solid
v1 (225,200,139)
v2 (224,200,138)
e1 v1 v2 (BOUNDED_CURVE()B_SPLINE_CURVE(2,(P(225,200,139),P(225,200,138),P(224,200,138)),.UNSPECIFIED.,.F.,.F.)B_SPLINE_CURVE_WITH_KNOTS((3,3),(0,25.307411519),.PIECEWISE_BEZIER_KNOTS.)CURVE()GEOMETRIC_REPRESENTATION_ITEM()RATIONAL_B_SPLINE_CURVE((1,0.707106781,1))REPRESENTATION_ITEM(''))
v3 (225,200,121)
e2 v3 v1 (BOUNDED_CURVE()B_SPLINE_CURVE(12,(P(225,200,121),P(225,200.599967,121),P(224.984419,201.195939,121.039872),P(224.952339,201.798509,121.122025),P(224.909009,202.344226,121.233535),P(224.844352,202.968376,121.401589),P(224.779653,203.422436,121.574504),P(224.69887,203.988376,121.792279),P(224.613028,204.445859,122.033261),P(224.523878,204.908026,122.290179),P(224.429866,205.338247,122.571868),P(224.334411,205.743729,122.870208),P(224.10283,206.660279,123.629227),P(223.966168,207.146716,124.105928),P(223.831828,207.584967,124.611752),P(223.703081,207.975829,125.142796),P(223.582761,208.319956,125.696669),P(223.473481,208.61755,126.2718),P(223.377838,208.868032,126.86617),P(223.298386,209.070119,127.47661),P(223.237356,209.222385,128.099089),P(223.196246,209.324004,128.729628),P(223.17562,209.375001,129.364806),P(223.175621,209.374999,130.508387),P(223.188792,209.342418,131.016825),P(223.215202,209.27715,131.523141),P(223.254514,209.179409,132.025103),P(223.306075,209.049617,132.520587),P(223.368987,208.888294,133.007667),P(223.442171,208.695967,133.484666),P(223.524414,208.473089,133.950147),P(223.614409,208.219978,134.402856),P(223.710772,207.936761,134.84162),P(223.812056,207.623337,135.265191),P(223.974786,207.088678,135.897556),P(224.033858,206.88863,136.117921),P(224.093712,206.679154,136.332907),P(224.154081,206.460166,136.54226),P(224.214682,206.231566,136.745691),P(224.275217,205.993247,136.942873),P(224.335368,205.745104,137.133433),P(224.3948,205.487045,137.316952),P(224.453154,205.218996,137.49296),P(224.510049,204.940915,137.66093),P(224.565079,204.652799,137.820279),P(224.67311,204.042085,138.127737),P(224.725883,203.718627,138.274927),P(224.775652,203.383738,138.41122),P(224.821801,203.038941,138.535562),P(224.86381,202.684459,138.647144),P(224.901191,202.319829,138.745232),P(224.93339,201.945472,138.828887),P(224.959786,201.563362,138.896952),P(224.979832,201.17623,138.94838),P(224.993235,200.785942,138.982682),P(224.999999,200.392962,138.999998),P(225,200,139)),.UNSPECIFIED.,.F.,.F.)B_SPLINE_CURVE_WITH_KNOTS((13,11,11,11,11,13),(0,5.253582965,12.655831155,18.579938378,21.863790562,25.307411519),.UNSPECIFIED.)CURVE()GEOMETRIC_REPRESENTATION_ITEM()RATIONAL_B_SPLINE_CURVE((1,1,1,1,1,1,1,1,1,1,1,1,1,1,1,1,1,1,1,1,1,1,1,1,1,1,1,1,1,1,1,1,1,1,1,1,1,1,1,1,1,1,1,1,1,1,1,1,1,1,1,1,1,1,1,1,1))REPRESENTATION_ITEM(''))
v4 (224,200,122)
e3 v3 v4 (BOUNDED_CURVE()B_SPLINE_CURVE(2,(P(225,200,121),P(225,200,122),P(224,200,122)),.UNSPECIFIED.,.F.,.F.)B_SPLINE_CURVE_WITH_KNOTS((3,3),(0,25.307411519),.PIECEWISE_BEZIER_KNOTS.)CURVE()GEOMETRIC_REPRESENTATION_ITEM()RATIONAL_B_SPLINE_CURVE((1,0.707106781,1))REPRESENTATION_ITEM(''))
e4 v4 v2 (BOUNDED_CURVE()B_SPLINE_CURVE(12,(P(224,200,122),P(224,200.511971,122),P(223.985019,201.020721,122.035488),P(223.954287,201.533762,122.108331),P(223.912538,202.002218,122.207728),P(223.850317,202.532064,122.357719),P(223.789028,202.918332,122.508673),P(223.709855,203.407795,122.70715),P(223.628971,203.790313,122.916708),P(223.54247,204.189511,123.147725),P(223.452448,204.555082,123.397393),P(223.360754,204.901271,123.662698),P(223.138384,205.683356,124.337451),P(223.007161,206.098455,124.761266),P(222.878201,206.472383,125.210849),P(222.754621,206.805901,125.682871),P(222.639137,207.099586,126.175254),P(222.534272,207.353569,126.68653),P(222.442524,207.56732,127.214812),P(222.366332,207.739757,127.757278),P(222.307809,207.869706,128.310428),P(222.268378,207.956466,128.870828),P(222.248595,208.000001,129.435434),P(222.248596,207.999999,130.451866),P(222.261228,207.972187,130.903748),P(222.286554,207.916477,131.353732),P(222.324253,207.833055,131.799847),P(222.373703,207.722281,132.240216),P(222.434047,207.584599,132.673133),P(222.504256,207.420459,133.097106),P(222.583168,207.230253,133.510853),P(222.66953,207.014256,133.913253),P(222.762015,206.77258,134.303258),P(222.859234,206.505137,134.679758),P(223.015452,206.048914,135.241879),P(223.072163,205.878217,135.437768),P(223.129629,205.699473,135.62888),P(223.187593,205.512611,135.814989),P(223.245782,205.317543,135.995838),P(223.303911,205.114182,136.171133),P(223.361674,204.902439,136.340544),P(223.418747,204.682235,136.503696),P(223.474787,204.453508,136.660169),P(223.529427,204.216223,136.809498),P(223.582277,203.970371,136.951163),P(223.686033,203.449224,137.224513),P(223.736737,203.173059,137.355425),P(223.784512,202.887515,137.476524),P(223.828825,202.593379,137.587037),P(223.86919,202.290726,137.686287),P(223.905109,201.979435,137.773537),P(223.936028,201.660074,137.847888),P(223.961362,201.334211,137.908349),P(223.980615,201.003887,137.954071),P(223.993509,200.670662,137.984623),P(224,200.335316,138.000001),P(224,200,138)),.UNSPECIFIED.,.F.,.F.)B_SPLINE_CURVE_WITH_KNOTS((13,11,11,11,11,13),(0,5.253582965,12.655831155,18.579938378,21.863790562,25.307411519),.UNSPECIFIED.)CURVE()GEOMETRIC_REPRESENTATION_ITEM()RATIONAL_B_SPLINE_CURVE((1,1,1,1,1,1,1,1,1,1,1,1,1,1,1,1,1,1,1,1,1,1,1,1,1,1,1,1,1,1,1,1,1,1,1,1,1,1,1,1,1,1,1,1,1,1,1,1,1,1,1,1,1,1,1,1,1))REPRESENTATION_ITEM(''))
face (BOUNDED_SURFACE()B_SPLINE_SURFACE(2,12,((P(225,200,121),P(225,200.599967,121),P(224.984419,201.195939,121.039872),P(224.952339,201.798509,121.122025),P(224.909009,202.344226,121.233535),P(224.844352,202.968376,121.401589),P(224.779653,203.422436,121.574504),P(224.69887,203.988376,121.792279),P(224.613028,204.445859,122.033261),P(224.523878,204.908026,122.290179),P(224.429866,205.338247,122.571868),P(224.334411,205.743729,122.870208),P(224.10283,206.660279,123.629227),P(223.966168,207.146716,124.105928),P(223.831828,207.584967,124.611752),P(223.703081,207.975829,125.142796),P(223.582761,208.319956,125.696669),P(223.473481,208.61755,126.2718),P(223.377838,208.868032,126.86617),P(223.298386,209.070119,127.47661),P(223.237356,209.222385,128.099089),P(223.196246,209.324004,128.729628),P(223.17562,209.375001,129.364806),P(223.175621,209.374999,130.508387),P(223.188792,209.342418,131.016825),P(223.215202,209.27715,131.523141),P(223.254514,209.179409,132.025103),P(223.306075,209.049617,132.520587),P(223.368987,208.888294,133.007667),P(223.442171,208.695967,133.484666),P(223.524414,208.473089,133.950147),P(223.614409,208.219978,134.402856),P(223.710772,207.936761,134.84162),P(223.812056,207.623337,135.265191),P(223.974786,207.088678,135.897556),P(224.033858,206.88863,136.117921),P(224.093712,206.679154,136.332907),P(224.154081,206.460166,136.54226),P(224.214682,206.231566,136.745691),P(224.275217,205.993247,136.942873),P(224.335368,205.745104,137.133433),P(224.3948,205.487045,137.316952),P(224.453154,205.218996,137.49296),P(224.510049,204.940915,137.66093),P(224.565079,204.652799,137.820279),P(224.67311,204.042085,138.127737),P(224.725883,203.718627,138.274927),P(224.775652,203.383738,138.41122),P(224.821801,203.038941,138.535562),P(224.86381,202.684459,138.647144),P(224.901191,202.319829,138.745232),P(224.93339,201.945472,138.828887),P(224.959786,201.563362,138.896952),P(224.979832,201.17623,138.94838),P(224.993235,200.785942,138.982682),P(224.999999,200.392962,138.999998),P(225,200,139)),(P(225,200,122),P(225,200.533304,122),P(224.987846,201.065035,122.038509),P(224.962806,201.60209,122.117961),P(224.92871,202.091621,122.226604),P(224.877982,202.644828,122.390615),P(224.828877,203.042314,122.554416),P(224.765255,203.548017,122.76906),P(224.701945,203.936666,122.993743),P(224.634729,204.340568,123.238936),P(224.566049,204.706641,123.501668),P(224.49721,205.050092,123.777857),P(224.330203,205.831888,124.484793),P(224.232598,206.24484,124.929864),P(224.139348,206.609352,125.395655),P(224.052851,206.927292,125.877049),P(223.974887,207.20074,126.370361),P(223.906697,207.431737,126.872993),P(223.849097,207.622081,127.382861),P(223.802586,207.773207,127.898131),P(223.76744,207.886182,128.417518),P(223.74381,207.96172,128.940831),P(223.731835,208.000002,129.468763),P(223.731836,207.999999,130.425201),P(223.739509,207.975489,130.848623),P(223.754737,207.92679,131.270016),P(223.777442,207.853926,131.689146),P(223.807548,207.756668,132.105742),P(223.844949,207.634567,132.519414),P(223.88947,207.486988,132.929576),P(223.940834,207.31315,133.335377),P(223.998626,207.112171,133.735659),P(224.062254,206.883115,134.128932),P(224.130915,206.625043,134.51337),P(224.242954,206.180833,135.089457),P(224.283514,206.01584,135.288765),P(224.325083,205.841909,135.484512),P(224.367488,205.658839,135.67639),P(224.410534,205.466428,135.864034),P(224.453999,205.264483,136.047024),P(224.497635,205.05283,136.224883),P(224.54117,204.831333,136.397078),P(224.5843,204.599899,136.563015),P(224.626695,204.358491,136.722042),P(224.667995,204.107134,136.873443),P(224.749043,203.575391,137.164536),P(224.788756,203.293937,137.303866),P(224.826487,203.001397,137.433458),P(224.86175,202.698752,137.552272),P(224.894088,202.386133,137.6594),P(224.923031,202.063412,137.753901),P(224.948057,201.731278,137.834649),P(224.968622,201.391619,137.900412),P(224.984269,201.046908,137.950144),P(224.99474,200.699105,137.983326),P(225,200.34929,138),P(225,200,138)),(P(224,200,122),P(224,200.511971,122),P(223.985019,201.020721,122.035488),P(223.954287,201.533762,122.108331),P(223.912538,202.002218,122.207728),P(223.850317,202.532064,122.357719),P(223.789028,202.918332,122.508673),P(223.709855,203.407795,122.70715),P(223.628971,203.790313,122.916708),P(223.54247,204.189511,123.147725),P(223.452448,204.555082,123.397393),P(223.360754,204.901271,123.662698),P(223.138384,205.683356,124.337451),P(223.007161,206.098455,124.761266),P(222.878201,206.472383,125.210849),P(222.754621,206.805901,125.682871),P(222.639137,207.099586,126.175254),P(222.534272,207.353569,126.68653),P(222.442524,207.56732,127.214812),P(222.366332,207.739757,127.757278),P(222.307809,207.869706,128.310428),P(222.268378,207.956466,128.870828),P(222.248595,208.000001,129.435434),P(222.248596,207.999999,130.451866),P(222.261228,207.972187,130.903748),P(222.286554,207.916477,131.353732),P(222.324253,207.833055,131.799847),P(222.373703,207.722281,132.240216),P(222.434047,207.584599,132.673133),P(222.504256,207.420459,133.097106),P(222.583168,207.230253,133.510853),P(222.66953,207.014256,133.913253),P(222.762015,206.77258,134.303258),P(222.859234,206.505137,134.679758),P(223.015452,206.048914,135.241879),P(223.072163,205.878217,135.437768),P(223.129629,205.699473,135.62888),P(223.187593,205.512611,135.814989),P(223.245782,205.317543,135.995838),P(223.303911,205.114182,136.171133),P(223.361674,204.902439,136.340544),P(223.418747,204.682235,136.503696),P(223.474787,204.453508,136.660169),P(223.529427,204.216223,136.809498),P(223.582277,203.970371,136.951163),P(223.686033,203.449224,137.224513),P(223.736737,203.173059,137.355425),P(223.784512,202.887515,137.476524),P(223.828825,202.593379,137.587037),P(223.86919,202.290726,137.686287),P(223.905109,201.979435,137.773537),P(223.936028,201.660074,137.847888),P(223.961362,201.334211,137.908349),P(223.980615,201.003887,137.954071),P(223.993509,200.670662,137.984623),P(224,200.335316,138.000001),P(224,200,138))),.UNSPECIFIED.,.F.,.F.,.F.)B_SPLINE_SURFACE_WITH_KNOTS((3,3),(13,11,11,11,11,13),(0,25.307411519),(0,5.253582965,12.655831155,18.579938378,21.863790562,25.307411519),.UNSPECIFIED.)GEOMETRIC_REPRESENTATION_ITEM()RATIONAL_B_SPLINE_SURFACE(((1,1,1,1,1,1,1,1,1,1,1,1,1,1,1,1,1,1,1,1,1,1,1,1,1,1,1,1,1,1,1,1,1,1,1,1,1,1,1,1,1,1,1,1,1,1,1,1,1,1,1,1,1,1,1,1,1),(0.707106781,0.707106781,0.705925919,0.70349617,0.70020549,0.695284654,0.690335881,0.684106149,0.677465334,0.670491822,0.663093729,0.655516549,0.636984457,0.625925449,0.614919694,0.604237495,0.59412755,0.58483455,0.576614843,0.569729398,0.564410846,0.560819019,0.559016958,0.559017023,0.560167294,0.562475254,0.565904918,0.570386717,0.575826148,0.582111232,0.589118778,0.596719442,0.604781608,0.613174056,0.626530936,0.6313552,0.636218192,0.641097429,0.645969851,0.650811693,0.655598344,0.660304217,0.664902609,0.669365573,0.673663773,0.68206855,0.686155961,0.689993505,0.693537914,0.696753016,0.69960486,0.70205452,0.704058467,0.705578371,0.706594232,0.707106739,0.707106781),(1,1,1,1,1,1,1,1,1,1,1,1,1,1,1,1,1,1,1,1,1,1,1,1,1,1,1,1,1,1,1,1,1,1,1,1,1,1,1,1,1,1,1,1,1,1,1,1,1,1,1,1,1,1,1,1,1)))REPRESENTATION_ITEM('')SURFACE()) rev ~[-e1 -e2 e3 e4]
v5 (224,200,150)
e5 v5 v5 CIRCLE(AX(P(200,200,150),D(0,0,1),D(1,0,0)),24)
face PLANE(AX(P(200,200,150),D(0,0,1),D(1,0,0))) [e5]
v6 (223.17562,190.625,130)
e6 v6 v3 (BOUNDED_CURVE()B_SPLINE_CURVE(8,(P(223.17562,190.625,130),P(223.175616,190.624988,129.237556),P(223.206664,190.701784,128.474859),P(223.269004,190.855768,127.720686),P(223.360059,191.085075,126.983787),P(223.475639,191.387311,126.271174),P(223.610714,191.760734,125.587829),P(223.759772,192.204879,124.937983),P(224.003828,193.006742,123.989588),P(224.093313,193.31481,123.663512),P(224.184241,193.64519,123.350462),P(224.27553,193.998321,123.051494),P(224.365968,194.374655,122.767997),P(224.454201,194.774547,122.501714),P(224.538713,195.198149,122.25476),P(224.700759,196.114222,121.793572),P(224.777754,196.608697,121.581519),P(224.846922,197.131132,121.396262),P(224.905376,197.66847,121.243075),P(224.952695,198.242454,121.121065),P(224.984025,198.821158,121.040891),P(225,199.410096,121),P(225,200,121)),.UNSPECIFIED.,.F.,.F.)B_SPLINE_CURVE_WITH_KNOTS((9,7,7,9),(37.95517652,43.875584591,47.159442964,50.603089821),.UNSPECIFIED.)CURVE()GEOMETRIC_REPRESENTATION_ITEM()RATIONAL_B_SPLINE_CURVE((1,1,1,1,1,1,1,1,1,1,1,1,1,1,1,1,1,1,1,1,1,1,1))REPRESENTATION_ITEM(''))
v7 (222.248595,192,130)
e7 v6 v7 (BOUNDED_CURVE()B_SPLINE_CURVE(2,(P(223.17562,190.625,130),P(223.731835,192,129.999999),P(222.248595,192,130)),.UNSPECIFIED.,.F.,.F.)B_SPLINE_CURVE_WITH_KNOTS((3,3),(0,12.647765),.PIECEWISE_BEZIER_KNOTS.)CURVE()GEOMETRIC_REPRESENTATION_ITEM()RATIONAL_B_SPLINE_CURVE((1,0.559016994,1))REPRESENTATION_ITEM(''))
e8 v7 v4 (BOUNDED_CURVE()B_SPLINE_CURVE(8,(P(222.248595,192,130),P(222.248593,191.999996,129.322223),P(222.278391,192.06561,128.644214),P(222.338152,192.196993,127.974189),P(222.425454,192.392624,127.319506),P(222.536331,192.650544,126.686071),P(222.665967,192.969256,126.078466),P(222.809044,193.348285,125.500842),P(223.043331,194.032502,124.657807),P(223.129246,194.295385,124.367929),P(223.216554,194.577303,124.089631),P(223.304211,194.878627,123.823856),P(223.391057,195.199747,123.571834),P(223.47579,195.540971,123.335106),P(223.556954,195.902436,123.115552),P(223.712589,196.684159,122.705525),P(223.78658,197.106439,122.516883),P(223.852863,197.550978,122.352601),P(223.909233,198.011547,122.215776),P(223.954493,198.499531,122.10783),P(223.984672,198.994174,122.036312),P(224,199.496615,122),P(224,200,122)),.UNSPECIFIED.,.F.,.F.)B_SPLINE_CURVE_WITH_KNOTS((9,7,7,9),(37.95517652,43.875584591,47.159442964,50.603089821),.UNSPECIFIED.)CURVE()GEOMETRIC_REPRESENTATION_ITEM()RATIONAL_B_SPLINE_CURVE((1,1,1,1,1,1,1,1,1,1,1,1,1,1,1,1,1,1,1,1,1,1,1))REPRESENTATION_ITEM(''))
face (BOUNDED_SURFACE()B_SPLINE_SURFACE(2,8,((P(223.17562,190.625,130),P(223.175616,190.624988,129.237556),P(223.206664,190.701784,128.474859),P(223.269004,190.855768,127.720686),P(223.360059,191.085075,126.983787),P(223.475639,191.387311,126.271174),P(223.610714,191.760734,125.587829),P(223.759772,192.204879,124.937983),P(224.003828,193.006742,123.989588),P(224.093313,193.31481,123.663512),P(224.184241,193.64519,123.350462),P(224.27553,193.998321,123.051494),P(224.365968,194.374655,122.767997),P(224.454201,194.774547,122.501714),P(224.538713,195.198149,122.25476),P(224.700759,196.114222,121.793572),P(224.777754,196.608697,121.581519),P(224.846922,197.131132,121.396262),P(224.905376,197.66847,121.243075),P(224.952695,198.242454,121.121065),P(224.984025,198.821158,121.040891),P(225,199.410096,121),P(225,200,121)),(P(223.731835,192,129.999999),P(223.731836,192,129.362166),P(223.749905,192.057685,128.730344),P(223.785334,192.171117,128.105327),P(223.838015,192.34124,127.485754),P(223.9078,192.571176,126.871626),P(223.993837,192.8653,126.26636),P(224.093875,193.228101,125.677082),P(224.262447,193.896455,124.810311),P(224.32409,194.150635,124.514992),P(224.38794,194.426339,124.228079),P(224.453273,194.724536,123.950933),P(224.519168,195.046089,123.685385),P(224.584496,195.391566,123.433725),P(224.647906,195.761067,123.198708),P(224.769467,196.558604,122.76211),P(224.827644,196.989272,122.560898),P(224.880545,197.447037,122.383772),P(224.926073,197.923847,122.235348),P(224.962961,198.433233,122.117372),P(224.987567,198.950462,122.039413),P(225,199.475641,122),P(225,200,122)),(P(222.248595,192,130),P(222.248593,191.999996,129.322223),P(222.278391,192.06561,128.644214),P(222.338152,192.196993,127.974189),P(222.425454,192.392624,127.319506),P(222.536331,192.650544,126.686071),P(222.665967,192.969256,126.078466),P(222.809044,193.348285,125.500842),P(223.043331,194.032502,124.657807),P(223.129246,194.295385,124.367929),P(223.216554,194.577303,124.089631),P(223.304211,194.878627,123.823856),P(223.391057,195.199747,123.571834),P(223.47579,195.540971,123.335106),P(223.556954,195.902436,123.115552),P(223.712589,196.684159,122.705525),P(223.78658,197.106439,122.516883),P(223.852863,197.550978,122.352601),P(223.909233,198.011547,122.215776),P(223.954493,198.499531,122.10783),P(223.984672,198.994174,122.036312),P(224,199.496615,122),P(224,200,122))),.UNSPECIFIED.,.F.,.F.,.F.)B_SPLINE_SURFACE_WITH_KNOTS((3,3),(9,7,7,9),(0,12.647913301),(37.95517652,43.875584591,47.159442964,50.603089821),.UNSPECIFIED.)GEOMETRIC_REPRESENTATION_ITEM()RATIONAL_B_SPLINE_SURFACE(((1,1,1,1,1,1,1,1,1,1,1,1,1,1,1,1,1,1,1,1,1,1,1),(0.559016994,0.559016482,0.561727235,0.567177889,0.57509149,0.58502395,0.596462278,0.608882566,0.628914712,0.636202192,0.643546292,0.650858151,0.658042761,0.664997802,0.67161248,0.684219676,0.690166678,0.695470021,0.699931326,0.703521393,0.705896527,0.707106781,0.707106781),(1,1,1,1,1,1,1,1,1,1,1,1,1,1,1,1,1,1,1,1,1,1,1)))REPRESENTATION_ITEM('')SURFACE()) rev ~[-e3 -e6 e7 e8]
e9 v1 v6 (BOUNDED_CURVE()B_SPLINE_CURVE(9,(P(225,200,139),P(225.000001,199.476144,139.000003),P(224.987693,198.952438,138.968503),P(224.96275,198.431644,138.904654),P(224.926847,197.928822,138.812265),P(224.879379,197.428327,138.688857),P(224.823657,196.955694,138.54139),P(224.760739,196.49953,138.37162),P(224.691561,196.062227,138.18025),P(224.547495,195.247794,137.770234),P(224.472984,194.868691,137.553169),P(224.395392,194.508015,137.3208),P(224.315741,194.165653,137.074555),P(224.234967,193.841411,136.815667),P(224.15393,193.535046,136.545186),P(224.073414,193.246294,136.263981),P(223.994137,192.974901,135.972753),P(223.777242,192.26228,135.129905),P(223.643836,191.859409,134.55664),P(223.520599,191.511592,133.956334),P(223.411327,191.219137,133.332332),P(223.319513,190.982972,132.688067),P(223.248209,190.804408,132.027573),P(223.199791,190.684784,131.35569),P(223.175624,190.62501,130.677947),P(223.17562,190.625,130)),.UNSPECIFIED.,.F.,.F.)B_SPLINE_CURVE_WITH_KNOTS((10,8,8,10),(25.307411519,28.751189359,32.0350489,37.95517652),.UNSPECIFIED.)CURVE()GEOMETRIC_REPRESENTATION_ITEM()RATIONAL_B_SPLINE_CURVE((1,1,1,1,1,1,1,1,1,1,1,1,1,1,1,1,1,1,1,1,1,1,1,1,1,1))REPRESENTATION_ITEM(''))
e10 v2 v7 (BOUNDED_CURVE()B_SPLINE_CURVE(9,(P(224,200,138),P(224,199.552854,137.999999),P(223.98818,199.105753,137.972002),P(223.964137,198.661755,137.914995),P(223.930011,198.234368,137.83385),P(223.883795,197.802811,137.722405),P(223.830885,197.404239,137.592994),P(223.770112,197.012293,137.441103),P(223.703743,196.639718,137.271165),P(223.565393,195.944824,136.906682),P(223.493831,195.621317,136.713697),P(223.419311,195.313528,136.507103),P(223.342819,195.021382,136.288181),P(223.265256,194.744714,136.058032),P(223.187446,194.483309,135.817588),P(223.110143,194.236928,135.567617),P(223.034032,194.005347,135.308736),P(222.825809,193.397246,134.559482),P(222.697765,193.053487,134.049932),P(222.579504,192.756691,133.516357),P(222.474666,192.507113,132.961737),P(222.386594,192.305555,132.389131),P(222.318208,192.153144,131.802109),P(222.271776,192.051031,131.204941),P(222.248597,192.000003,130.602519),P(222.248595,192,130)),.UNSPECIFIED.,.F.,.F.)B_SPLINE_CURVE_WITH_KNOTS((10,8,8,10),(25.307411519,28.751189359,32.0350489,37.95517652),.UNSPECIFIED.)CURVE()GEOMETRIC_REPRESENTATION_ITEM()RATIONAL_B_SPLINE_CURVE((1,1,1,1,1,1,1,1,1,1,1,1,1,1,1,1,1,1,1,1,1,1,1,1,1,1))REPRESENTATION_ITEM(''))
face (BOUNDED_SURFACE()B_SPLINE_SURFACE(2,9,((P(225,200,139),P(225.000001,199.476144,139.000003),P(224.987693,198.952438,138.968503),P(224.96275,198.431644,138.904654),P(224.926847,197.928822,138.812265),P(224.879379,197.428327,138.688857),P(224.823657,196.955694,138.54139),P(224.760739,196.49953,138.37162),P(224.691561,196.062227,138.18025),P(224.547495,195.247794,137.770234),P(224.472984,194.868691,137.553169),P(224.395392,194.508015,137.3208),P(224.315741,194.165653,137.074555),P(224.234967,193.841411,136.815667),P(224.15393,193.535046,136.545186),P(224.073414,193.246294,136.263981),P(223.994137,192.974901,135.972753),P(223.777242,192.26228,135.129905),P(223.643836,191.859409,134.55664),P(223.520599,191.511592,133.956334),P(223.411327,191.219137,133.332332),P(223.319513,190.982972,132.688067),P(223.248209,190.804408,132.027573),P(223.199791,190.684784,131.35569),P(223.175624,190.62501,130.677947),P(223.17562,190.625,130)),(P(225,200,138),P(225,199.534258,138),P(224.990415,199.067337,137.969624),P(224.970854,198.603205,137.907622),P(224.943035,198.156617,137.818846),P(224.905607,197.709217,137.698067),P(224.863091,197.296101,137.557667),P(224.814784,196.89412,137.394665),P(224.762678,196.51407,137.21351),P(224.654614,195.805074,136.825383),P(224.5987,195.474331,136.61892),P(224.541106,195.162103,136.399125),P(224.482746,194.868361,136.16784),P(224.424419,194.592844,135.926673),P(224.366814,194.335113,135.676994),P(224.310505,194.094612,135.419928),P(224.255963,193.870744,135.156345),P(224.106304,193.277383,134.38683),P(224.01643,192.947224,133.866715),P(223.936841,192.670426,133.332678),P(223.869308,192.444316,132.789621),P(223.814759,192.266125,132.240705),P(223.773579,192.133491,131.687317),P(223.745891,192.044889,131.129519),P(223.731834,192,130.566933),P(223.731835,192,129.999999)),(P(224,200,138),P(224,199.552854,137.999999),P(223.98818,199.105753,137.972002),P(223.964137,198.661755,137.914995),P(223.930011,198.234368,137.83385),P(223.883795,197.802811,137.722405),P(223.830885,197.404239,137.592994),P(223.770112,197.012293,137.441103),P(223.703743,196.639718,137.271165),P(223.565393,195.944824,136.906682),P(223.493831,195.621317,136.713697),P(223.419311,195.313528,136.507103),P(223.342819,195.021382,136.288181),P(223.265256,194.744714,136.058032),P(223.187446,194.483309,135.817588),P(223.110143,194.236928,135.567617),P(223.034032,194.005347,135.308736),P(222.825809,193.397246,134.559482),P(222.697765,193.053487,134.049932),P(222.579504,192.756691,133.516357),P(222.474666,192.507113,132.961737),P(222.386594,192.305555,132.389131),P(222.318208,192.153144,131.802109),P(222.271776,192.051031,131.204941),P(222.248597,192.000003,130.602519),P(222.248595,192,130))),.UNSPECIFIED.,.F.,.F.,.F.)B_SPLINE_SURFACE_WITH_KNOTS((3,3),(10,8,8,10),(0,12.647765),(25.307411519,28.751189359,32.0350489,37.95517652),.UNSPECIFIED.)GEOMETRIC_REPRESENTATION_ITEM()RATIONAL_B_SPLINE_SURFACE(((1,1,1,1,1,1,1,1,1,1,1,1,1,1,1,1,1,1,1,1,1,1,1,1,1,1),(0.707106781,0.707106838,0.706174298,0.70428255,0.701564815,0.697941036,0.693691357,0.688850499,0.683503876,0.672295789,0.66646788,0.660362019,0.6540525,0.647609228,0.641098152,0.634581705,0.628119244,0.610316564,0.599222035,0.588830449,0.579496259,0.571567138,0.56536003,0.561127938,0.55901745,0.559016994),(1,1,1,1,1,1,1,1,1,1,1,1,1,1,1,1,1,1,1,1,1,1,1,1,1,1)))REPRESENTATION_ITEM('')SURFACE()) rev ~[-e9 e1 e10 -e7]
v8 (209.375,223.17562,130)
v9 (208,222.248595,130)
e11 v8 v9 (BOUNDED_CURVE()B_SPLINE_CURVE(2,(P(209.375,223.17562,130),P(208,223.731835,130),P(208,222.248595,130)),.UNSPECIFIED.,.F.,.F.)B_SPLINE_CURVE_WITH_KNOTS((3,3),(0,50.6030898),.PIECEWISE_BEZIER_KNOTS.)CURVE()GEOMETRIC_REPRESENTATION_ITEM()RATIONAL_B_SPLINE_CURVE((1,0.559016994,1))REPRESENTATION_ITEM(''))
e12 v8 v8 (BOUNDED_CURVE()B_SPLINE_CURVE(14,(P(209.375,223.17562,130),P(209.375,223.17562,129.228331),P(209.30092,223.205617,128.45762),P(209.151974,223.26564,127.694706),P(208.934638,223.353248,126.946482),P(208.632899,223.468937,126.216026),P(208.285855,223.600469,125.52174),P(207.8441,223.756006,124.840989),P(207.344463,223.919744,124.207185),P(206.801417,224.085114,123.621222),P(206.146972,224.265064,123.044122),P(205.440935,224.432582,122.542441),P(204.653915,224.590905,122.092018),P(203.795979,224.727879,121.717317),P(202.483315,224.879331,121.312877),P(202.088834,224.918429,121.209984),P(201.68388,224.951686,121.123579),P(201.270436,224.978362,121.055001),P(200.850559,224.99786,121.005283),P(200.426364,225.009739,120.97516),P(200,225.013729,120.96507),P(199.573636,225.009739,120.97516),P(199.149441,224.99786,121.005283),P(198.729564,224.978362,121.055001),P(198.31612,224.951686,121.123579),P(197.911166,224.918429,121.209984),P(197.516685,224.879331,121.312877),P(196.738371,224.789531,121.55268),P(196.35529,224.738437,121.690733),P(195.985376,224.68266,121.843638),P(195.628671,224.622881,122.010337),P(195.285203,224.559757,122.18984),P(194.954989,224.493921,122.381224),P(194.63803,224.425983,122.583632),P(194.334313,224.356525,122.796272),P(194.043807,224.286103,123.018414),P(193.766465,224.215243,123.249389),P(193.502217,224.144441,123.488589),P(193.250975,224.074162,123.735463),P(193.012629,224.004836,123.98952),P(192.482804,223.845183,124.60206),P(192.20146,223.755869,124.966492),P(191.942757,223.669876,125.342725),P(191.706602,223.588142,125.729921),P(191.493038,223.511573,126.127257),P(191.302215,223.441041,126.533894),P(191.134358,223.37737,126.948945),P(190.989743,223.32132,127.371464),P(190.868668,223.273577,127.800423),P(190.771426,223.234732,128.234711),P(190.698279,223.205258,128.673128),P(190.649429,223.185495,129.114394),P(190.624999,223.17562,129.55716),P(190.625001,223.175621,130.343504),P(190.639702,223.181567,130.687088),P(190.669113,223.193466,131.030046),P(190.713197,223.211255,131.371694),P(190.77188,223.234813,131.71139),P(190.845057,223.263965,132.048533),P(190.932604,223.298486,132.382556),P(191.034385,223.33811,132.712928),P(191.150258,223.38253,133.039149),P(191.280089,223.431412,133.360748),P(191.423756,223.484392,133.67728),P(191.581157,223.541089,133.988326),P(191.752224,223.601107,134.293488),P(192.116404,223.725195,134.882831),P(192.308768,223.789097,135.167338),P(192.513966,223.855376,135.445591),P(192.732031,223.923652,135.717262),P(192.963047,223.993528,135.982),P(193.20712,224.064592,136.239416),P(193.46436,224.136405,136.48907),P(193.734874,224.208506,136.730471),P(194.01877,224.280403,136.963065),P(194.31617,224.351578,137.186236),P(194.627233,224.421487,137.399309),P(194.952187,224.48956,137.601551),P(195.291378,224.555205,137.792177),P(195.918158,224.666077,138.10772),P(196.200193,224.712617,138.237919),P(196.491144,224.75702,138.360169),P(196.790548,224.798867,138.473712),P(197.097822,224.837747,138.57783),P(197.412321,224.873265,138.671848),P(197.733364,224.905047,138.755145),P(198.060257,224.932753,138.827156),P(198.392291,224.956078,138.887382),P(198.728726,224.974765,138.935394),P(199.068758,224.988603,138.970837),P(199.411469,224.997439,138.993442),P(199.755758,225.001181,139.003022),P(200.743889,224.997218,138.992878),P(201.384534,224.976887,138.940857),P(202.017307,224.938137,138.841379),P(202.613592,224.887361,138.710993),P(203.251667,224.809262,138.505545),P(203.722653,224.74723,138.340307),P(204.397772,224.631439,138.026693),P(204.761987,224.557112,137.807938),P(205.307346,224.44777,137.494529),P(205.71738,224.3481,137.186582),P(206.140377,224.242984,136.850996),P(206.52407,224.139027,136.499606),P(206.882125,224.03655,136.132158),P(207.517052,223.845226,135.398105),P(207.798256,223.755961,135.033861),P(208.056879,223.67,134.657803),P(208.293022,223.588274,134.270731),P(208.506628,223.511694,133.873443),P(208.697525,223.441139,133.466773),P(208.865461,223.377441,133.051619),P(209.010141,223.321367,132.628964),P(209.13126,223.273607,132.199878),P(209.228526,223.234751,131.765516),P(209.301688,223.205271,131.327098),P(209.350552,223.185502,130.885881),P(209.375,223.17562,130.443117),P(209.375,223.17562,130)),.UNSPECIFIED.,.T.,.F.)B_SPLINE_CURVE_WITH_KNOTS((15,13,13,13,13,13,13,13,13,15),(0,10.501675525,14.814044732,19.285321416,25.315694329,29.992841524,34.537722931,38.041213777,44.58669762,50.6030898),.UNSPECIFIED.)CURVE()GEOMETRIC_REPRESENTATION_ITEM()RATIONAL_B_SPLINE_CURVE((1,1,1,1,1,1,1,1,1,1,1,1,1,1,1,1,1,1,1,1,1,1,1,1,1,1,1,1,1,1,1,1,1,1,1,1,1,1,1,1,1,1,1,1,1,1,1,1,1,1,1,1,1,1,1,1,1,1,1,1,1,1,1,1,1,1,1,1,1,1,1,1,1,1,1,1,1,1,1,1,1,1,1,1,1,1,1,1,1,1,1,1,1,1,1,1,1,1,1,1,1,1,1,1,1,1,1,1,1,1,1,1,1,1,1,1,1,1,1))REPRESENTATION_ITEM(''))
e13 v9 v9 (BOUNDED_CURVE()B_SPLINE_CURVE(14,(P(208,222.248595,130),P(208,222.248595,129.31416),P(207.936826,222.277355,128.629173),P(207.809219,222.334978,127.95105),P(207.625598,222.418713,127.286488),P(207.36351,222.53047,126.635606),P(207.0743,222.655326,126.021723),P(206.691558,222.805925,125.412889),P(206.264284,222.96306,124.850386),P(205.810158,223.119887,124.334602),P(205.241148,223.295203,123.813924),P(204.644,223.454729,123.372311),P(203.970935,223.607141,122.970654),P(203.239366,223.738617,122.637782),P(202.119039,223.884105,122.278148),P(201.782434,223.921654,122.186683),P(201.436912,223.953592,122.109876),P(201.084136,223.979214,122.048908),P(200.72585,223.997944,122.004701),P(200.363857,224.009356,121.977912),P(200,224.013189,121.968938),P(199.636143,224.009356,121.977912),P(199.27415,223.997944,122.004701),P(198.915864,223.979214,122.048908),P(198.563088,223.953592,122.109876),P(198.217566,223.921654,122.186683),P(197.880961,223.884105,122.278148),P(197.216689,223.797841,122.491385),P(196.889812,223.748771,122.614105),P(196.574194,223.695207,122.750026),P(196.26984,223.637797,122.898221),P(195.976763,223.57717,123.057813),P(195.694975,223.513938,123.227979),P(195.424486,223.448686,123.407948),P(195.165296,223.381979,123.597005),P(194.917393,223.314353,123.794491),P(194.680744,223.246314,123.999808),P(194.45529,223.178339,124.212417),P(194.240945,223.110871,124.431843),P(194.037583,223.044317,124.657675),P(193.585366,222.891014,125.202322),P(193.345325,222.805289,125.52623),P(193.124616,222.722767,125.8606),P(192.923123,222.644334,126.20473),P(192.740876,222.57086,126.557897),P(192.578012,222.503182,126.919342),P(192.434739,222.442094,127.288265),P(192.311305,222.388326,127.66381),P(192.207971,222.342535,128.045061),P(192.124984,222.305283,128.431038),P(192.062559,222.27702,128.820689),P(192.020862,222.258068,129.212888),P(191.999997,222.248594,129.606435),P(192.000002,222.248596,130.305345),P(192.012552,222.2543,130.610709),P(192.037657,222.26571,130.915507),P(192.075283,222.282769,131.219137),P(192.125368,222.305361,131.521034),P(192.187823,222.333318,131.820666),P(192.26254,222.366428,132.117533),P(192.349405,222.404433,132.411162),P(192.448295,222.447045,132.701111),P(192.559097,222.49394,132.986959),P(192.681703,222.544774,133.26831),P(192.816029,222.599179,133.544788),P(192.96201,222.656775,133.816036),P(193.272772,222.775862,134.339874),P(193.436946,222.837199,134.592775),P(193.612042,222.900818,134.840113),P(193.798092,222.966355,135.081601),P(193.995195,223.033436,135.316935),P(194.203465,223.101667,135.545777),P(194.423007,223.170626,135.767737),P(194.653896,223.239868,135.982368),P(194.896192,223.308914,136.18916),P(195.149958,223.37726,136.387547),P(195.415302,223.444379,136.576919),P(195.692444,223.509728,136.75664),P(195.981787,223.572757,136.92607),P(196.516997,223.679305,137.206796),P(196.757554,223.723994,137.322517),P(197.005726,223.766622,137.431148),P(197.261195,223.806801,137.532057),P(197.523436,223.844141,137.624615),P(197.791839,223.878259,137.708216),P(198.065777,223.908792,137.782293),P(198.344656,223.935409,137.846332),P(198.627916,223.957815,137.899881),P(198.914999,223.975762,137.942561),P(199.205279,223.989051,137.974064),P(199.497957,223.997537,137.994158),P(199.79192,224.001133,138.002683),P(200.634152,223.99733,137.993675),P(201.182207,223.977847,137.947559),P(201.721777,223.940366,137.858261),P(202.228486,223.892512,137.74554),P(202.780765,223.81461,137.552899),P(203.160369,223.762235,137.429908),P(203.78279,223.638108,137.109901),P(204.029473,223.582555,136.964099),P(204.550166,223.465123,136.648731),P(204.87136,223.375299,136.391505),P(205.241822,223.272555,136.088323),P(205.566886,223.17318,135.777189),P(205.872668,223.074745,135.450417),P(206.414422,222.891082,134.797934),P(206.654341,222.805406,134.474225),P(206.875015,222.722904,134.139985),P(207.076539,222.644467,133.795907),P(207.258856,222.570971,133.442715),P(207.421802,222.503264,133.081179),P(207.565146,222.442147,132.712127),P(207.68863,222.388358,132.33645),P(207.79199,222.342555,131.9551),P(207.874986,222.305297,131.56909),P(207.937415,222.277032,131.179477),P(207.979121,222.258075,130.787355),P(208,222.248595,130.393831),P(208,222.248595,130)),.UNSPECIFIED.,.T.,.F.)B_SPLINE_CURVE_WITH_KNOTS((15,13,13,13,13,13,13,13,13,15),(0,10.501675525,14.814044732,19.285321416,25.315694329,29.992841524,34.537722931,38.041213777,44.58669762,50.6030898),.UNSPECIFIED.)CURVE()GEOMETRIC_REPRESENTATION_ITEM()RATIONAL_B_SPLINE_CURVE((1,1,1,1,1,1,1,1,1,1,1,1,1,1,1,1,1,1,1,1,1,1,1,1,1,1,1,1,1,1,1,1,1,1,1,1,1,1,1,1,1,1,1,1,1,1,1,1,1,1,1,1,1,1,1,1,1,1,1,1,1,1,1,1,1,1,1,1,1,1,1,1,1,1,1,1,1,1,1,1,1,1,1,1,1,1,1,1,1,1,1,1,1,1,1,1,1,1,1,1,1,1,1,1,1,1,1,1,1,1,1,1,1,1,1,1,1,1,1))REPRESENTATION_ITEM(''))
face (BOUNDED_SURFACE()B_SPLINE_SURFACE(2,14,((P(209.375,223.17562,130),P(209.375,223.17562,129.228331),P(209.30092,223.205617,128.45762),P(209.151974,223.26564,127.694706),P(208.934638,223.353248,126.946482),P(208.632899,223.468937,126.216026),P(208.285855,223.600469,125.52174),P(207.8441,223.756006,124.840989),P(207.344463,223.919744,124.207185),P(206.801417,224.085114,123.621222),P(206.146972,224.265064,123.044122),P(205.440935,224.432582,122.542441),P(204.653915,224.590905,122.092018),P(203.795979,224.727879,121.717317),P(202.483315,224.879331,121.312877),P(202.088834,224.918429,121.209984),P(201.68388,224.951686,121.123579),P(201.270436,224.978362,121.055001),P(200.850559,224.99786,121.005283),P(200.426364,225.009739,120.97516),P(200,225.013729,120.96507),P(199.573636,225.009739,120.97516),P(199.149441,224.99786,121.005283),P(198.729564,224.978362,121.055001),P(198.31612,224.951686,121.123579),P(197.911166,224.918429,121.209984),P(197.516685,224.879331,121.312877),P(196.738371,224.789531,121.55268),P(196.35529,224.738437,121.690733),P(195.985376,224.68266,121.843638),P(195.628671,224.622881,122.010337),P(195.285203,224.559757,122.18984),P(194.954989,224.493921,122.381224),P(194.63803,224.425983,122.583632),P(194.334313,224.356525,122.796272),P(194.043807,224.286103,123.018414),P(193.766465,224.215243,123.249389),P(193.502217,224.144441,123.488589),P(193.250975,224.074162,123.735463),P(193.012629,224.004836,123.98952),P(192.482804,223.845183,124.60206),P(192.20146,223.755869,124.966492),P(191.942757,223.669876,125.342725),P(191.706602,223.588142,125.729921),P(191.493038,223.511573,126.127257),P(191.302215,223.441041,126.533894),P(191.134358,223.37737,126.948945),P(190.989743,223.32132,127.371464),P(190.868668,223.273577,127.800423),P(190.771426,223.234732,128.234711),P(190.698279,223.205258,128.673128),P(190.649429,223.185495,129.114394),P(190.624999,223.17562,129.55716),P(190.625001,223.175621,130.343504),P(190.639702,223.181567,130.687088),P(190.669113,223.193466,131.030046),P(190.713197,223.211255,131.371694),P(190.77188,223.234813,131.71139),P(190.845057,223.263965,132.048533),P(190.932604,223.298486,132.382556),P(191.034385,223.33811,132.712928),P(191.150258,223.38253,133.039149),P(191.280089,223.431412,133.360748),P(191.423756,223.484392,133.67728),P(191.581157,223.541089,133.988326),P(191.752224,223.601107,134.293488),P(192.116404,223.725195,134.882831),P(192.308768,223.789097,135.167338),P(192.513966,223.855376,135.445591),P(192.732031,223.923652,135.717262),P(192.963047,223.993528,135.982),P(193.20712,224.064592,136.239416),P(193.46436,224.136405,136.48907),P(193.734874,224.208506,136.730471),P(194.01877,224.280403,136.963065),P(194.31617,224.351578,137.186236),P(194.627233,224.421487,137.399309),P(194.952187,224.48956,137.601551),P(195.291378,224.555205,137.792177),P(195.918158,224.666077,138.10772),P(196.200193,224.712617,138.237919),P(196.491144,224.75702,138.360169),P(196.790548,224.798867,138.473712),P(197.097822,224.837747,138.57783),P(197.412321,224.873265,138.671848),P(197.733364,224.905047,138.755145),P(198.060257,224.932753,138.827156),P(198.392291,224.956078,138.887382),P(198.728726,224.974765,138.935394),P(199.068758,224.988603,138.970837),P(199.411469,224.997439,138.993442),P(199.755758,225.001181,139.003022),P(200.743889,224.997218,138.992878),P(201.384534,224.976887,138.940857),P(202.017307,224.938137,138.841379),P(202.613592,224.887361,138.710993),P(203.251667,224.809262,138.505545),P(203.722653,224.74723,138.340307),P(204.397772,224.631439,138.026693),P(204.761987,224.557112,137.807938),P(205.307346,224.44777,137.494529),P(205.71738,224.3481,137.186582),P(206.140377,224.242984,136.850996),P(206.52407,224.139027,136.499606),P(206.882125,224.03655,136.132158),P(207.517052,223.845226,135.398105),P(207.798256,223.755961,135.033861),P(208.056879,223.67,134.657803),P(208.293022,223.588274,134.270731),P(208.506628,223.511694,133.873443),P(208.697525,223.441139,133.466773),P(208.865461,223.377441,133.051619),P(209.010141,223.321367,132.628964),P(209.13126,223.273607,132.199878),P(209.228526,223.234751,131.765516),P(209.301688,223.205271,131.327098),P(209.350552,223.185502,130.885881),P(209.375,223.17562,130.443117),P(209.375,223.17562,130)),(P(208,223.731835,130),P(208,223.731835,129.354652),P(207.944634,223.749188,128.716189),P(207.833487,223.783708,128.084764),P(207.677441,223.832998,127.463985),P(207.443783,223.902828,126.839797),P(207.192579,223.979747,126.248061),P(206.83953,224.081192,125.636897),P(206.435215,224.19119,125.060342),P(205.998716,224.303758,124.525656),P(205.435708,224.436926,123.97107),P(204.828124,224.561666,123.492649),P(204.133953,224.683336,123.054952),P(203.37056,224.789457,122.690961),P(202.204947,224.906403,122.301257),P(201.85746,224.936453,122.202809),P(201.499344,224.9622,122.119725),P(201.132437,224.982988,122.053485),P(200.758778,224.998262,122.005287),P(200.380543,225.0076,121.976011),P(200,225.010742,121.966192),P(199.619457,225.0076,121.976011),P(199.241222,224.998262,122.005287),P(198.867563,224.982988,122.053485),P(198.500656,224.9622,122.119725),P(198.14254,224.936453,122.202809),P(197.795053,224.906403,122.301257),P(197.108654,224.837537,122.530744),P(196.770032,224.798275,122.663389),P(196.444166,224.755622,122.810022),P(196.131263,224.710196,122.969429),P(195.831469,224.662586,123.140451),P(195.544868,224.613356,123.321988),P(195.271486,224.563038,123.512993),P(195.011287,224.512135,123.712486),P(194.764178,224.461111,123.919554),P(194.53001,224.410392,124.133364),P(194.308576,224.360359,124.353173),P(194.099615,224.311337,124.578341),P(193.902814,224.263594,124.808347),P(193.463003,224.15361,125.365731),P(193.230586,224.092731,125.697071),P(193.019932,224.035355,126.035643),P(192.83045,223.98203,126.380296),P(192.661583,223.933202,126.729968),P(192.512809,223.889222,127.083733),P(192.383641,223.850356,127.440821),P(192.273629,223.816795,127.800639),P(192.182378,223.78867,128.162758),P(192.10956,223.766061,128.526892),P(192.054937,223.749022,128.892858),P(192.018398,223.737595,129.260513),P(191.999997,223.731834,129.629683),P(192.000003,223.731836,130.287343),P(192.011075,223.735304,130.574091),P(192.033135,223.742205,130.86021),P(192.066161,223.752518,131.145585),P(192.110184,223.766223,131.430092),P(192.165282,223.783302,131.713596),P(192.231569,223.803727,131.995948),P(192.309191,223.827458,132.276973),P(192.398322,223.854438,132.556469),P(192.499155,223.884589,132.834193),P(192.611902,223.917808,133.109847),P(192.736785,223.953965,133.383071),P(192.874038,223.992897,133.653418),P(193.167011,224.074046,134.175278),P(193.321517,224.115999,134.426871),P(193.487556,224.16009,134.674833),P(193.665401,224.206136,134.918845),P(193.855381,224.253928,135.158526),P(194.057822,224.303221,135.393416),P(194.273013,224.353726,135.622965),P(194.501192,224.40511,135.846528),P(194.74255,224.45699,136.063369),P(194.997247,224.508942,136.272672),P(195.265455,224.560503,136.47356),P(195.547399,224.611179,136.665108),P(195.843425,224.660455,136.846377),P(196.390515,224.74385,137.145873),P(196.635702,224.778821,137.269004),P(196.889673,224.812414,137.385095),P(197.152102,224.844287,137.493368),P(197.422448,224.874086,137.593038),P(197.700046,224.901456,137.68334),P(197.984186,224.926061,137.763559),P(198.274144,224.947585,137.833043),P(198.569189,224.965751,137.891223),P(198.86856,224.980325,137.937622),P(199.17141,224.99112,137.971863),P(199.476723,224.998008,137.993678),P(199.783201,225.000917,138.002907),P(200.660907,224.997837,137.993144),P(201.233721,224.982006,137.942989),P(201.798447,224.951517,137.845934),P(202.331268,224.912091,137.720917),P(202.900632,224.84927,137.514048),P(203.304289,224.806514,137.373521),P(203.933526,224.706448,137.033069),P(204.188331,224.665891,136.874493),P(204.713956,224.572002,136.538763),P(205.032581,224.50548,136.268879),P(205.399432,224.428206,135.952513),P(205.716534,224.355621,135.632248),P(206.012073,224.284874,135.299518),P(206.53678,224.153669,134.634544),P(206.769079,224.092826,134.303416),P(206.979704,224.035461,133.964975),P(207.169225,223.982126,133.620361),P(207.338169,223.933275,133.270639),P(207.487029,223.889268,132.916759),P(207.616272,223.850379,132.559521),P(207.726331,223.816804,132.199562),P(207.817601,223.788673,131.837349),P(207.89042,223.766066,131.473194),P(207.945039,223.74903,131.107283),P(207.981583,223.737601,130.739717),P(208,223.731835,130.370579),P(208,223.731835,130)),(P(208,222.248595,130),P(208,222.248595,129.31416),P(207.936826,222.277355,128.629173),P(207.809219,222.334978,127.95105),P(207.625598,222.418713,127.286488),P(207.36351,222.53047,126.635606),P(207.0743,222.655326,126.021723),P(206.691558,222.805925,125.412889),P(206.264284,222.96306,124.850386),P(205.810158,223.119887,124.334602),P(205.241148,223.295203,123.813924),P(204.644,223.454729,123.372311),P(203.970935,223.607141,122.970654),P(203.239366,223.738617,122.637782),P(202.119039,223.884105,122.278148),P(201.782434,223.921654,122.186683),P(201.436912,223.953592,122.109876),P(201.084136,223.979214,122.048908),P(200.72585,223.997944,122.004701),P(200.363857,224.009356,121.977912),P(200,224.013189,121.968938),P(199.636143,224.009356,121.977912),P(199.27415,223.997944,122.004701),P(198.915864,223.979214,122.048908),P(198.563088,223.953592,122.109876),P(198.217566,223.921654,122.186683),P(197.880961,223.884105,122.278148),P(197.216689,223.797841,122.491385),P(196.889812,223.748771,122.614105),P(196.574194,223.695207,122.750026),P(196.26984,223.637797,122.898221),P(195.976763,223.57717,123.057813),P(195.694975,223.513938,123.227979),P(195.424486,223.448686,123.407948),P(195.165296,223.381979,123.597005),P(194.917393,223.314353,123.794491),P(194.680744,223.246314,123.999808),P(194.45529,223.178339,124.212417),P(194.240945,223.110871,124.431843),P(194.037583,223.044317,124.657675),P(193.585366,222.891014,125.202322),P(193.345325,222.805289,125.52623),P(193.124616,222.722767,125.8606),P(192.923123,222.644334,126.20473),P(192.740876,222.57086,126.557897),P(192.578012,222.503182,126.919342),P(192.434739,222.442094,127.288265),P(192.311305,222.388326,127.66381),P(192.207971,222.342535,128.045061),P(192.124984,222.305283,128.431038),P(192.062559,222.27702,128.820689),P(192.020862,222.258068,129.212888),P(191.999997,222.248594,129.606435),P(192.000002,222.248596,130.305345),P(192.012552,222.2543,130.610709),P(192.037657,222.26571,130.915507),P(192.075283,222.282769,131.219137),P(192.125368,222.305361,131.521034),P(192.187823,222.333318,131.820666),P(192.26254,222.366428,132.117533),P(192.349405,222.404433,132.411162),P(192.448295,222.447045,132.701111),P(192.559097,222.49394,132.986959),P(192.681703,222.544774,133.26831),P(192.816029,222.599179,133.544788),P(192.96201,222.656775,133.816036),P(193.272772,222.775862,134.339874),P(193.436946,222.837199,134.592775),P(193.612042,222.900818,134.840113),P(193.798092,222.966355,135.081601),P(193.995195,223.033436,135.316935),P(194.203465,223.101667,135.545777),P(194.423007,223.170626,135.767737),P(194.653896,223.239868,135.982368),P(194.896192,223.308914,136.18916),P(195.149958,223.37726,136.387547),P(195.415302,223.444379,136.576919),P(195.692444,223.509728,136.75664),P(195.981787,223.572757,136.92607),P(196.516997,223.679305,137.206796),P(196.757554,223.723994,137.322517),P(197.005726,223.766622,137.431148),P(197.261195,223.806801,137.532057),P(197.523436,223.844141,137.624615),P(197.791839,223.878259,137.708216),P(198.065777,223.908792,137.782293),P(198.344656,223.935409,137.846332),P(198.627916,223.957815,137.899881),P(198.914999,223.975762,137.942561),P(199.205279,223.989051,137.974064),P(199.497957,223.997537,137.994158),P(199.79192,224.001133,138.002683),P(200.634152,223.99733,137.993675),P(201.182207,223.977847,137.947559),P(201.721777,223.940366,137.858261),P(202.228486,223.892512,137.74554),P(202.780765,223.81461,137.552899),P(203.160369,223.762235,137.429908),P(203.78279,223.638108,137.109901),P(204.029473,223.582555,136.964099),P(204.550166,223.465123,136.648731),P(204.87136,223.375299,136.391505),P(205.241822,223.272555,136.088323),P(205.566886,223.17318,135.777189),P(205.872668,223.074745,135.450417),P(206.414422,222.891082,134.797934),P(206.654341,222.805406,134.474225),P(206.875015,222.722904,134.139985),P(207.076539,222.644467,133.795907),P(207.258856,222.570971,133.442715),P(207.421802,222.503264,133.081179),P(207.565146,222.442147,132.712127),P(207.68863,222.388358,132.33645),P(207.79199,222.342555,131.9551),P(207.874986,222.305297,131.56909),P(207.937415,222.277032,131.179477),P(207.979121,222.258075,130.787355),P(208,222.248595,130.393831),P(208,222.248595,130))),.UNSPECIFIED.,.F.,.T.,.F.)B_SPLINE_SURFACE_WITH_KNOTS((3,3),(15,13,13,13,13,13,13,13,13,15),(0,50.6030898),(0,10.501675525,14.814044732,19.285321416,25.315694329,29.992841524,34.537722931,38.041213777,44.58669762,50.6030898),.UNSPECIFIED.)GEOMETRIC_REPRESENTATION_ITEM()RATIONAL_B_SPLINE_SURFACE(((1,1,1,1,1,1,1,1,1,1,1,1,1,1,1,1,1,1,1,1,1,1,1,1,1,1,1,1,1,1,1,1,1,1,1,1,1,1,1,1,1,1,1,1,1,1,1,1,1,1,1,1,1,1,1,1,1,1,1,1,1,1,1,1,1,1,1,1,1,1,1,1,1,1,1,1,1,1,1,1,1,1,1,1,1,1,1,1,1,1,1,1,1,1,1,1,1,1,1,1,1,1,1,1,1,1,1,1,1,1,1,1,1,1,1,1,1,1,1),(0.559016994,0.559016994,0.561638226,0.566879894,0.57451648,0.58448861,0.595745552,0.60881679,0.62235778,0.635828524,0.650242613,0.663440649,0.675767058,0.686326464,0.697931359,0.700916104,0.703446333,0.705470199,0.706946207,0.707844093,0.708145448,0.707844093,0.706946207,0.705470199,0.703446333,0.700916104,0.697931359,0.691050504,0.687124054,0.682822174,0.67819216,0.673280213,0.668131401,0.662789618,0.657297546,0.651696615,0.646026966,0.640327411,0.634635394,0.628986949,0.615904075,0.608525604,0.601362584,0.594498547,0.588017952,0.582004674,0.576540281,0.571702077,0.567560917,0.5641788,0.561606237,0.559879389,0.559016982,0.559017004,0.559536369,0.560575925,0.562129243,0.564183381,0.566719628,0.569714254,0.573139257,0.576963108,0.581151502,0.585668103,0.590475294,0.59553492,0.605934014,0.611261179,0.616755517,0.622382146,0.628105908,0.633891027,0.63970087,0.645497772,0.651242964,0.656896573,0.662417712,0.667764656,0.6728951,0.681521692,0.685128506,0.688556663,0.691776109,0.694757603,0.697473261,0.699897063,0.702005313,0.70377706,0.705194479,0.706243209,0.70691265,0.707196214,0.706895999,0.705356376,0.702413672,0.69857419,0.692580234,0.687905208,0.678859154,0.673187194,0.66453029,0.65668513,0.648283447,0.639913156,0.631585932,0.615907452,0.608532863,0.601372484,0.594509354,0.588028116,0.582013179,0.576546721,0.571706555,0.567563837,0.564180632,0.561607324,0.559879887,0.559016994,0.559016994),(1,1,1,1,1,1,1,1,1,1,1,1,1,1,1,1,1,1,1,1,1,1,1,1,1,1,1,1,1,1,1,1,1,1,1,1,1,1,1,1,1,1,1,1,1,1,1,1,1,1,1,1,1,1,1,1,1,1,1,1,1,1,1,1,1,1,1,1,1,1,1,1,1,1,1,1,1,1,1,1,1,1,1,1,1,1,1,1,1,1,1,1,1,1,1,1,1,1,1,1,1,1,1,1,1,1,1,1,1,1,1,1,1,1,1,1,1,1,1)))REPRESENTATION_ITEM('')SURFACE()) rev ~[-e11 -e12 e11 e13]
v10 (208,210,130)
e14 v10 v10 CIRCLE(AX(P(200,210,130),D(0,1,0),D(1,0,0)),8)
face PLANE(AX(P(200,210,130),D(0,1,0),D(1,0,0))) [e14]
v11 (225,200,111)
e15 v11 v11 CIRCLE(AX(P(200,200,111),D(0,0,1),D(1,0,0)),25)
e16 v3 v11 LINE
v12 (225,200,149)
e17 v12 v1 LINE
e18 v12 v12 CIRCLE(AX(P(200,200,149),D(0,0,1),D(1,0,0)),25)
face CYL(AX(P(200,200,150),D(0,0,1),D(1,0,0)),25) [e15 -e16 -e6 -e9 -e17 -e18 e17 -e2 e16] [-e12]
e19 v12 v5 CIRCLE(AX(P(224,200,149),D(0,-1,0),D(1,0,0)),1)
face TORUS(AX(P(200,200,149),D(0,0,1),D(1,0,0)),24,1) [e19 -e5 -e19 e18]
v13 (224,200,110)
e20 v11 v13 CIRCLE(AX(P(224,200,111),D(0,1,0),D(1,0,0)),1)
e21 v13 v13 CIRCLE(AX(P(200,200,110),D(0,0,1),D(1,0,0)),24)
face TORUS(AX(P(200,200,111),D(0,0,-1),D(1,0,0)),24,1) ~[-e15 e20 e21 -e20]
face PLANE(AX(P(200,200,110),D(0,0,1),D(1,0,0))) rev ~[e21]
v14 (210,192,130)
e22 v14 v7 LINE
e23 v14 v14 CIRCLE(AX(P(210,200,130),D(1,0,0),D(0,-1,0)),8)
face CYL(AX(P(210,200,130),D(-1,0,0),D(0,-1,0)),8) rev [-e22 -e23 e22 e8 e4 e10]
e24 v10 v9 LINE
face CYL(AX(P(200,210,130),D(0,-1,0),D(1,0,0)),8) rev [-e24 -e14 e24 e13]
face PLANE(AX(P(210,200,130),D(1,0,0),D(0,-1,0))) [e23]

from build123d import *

# Parameters (mm, degrees)
SKETCH20_R          = 25
BOSS_EXTRUDE6_DEPTH = 40
SKETCH21_R          = 8
CUT_EXTRUDE2_DEPTH  = 26
CIRPATTERN1_COUNT   = 2
CIRPATTERN1_ANGLE   = 90
FILLET5_R           = 1


with BuildPart() as part:
    # Sketch20 → Boss-Extrude6 (new body)
    with BuildSketch(Plane.XY.offset(150)):
        with Locations((200, 200)):
            Circle(SKETCH20_R)
    extrude(amount=-BOSS_EXTRUDE6_DEPTH)

    # Sketch21 → Cut-Extrude2 (cut)
    with BuildSketch(Plane(origin=(0, 210, 0), x_dir=(1, 0, 0), z_dir=(0, 1, 0))):
        with Locations((200, -130)):
            Circle(SKETCH21_R)
    cut_extrude2 = extrude(amount=CUT_EXTRUDE2_DEPTH, mode=Mode.SUBTRACT)

    # CirPattern1: Cut-Extrude2 ×2 about axis
    cirpattern1_axis = Axis((200, 200, 110), (0, 0, -1))
    for i in range(1, CIRPATTERN1_COUNT):
        add(cut_extrude2.rotate(cirpattern1_axis, i * CIRPATTERN1_ANGLE / (CIRPATTERN1_COUNT - 1)), mode=Mode.SUBTRACT)

    # Fillet5
    fillet5_edges = [part.edges().sort_by_distance(p)[0] for p in [
        (223.685438565, 208, 130),
        (192, 223.685438565, 130),
        (175, 200, 110),
        (175, 200, 150),
    ]]
    fillet(fillet5_edges, radius=FILLET5_R)


solid = part.part
